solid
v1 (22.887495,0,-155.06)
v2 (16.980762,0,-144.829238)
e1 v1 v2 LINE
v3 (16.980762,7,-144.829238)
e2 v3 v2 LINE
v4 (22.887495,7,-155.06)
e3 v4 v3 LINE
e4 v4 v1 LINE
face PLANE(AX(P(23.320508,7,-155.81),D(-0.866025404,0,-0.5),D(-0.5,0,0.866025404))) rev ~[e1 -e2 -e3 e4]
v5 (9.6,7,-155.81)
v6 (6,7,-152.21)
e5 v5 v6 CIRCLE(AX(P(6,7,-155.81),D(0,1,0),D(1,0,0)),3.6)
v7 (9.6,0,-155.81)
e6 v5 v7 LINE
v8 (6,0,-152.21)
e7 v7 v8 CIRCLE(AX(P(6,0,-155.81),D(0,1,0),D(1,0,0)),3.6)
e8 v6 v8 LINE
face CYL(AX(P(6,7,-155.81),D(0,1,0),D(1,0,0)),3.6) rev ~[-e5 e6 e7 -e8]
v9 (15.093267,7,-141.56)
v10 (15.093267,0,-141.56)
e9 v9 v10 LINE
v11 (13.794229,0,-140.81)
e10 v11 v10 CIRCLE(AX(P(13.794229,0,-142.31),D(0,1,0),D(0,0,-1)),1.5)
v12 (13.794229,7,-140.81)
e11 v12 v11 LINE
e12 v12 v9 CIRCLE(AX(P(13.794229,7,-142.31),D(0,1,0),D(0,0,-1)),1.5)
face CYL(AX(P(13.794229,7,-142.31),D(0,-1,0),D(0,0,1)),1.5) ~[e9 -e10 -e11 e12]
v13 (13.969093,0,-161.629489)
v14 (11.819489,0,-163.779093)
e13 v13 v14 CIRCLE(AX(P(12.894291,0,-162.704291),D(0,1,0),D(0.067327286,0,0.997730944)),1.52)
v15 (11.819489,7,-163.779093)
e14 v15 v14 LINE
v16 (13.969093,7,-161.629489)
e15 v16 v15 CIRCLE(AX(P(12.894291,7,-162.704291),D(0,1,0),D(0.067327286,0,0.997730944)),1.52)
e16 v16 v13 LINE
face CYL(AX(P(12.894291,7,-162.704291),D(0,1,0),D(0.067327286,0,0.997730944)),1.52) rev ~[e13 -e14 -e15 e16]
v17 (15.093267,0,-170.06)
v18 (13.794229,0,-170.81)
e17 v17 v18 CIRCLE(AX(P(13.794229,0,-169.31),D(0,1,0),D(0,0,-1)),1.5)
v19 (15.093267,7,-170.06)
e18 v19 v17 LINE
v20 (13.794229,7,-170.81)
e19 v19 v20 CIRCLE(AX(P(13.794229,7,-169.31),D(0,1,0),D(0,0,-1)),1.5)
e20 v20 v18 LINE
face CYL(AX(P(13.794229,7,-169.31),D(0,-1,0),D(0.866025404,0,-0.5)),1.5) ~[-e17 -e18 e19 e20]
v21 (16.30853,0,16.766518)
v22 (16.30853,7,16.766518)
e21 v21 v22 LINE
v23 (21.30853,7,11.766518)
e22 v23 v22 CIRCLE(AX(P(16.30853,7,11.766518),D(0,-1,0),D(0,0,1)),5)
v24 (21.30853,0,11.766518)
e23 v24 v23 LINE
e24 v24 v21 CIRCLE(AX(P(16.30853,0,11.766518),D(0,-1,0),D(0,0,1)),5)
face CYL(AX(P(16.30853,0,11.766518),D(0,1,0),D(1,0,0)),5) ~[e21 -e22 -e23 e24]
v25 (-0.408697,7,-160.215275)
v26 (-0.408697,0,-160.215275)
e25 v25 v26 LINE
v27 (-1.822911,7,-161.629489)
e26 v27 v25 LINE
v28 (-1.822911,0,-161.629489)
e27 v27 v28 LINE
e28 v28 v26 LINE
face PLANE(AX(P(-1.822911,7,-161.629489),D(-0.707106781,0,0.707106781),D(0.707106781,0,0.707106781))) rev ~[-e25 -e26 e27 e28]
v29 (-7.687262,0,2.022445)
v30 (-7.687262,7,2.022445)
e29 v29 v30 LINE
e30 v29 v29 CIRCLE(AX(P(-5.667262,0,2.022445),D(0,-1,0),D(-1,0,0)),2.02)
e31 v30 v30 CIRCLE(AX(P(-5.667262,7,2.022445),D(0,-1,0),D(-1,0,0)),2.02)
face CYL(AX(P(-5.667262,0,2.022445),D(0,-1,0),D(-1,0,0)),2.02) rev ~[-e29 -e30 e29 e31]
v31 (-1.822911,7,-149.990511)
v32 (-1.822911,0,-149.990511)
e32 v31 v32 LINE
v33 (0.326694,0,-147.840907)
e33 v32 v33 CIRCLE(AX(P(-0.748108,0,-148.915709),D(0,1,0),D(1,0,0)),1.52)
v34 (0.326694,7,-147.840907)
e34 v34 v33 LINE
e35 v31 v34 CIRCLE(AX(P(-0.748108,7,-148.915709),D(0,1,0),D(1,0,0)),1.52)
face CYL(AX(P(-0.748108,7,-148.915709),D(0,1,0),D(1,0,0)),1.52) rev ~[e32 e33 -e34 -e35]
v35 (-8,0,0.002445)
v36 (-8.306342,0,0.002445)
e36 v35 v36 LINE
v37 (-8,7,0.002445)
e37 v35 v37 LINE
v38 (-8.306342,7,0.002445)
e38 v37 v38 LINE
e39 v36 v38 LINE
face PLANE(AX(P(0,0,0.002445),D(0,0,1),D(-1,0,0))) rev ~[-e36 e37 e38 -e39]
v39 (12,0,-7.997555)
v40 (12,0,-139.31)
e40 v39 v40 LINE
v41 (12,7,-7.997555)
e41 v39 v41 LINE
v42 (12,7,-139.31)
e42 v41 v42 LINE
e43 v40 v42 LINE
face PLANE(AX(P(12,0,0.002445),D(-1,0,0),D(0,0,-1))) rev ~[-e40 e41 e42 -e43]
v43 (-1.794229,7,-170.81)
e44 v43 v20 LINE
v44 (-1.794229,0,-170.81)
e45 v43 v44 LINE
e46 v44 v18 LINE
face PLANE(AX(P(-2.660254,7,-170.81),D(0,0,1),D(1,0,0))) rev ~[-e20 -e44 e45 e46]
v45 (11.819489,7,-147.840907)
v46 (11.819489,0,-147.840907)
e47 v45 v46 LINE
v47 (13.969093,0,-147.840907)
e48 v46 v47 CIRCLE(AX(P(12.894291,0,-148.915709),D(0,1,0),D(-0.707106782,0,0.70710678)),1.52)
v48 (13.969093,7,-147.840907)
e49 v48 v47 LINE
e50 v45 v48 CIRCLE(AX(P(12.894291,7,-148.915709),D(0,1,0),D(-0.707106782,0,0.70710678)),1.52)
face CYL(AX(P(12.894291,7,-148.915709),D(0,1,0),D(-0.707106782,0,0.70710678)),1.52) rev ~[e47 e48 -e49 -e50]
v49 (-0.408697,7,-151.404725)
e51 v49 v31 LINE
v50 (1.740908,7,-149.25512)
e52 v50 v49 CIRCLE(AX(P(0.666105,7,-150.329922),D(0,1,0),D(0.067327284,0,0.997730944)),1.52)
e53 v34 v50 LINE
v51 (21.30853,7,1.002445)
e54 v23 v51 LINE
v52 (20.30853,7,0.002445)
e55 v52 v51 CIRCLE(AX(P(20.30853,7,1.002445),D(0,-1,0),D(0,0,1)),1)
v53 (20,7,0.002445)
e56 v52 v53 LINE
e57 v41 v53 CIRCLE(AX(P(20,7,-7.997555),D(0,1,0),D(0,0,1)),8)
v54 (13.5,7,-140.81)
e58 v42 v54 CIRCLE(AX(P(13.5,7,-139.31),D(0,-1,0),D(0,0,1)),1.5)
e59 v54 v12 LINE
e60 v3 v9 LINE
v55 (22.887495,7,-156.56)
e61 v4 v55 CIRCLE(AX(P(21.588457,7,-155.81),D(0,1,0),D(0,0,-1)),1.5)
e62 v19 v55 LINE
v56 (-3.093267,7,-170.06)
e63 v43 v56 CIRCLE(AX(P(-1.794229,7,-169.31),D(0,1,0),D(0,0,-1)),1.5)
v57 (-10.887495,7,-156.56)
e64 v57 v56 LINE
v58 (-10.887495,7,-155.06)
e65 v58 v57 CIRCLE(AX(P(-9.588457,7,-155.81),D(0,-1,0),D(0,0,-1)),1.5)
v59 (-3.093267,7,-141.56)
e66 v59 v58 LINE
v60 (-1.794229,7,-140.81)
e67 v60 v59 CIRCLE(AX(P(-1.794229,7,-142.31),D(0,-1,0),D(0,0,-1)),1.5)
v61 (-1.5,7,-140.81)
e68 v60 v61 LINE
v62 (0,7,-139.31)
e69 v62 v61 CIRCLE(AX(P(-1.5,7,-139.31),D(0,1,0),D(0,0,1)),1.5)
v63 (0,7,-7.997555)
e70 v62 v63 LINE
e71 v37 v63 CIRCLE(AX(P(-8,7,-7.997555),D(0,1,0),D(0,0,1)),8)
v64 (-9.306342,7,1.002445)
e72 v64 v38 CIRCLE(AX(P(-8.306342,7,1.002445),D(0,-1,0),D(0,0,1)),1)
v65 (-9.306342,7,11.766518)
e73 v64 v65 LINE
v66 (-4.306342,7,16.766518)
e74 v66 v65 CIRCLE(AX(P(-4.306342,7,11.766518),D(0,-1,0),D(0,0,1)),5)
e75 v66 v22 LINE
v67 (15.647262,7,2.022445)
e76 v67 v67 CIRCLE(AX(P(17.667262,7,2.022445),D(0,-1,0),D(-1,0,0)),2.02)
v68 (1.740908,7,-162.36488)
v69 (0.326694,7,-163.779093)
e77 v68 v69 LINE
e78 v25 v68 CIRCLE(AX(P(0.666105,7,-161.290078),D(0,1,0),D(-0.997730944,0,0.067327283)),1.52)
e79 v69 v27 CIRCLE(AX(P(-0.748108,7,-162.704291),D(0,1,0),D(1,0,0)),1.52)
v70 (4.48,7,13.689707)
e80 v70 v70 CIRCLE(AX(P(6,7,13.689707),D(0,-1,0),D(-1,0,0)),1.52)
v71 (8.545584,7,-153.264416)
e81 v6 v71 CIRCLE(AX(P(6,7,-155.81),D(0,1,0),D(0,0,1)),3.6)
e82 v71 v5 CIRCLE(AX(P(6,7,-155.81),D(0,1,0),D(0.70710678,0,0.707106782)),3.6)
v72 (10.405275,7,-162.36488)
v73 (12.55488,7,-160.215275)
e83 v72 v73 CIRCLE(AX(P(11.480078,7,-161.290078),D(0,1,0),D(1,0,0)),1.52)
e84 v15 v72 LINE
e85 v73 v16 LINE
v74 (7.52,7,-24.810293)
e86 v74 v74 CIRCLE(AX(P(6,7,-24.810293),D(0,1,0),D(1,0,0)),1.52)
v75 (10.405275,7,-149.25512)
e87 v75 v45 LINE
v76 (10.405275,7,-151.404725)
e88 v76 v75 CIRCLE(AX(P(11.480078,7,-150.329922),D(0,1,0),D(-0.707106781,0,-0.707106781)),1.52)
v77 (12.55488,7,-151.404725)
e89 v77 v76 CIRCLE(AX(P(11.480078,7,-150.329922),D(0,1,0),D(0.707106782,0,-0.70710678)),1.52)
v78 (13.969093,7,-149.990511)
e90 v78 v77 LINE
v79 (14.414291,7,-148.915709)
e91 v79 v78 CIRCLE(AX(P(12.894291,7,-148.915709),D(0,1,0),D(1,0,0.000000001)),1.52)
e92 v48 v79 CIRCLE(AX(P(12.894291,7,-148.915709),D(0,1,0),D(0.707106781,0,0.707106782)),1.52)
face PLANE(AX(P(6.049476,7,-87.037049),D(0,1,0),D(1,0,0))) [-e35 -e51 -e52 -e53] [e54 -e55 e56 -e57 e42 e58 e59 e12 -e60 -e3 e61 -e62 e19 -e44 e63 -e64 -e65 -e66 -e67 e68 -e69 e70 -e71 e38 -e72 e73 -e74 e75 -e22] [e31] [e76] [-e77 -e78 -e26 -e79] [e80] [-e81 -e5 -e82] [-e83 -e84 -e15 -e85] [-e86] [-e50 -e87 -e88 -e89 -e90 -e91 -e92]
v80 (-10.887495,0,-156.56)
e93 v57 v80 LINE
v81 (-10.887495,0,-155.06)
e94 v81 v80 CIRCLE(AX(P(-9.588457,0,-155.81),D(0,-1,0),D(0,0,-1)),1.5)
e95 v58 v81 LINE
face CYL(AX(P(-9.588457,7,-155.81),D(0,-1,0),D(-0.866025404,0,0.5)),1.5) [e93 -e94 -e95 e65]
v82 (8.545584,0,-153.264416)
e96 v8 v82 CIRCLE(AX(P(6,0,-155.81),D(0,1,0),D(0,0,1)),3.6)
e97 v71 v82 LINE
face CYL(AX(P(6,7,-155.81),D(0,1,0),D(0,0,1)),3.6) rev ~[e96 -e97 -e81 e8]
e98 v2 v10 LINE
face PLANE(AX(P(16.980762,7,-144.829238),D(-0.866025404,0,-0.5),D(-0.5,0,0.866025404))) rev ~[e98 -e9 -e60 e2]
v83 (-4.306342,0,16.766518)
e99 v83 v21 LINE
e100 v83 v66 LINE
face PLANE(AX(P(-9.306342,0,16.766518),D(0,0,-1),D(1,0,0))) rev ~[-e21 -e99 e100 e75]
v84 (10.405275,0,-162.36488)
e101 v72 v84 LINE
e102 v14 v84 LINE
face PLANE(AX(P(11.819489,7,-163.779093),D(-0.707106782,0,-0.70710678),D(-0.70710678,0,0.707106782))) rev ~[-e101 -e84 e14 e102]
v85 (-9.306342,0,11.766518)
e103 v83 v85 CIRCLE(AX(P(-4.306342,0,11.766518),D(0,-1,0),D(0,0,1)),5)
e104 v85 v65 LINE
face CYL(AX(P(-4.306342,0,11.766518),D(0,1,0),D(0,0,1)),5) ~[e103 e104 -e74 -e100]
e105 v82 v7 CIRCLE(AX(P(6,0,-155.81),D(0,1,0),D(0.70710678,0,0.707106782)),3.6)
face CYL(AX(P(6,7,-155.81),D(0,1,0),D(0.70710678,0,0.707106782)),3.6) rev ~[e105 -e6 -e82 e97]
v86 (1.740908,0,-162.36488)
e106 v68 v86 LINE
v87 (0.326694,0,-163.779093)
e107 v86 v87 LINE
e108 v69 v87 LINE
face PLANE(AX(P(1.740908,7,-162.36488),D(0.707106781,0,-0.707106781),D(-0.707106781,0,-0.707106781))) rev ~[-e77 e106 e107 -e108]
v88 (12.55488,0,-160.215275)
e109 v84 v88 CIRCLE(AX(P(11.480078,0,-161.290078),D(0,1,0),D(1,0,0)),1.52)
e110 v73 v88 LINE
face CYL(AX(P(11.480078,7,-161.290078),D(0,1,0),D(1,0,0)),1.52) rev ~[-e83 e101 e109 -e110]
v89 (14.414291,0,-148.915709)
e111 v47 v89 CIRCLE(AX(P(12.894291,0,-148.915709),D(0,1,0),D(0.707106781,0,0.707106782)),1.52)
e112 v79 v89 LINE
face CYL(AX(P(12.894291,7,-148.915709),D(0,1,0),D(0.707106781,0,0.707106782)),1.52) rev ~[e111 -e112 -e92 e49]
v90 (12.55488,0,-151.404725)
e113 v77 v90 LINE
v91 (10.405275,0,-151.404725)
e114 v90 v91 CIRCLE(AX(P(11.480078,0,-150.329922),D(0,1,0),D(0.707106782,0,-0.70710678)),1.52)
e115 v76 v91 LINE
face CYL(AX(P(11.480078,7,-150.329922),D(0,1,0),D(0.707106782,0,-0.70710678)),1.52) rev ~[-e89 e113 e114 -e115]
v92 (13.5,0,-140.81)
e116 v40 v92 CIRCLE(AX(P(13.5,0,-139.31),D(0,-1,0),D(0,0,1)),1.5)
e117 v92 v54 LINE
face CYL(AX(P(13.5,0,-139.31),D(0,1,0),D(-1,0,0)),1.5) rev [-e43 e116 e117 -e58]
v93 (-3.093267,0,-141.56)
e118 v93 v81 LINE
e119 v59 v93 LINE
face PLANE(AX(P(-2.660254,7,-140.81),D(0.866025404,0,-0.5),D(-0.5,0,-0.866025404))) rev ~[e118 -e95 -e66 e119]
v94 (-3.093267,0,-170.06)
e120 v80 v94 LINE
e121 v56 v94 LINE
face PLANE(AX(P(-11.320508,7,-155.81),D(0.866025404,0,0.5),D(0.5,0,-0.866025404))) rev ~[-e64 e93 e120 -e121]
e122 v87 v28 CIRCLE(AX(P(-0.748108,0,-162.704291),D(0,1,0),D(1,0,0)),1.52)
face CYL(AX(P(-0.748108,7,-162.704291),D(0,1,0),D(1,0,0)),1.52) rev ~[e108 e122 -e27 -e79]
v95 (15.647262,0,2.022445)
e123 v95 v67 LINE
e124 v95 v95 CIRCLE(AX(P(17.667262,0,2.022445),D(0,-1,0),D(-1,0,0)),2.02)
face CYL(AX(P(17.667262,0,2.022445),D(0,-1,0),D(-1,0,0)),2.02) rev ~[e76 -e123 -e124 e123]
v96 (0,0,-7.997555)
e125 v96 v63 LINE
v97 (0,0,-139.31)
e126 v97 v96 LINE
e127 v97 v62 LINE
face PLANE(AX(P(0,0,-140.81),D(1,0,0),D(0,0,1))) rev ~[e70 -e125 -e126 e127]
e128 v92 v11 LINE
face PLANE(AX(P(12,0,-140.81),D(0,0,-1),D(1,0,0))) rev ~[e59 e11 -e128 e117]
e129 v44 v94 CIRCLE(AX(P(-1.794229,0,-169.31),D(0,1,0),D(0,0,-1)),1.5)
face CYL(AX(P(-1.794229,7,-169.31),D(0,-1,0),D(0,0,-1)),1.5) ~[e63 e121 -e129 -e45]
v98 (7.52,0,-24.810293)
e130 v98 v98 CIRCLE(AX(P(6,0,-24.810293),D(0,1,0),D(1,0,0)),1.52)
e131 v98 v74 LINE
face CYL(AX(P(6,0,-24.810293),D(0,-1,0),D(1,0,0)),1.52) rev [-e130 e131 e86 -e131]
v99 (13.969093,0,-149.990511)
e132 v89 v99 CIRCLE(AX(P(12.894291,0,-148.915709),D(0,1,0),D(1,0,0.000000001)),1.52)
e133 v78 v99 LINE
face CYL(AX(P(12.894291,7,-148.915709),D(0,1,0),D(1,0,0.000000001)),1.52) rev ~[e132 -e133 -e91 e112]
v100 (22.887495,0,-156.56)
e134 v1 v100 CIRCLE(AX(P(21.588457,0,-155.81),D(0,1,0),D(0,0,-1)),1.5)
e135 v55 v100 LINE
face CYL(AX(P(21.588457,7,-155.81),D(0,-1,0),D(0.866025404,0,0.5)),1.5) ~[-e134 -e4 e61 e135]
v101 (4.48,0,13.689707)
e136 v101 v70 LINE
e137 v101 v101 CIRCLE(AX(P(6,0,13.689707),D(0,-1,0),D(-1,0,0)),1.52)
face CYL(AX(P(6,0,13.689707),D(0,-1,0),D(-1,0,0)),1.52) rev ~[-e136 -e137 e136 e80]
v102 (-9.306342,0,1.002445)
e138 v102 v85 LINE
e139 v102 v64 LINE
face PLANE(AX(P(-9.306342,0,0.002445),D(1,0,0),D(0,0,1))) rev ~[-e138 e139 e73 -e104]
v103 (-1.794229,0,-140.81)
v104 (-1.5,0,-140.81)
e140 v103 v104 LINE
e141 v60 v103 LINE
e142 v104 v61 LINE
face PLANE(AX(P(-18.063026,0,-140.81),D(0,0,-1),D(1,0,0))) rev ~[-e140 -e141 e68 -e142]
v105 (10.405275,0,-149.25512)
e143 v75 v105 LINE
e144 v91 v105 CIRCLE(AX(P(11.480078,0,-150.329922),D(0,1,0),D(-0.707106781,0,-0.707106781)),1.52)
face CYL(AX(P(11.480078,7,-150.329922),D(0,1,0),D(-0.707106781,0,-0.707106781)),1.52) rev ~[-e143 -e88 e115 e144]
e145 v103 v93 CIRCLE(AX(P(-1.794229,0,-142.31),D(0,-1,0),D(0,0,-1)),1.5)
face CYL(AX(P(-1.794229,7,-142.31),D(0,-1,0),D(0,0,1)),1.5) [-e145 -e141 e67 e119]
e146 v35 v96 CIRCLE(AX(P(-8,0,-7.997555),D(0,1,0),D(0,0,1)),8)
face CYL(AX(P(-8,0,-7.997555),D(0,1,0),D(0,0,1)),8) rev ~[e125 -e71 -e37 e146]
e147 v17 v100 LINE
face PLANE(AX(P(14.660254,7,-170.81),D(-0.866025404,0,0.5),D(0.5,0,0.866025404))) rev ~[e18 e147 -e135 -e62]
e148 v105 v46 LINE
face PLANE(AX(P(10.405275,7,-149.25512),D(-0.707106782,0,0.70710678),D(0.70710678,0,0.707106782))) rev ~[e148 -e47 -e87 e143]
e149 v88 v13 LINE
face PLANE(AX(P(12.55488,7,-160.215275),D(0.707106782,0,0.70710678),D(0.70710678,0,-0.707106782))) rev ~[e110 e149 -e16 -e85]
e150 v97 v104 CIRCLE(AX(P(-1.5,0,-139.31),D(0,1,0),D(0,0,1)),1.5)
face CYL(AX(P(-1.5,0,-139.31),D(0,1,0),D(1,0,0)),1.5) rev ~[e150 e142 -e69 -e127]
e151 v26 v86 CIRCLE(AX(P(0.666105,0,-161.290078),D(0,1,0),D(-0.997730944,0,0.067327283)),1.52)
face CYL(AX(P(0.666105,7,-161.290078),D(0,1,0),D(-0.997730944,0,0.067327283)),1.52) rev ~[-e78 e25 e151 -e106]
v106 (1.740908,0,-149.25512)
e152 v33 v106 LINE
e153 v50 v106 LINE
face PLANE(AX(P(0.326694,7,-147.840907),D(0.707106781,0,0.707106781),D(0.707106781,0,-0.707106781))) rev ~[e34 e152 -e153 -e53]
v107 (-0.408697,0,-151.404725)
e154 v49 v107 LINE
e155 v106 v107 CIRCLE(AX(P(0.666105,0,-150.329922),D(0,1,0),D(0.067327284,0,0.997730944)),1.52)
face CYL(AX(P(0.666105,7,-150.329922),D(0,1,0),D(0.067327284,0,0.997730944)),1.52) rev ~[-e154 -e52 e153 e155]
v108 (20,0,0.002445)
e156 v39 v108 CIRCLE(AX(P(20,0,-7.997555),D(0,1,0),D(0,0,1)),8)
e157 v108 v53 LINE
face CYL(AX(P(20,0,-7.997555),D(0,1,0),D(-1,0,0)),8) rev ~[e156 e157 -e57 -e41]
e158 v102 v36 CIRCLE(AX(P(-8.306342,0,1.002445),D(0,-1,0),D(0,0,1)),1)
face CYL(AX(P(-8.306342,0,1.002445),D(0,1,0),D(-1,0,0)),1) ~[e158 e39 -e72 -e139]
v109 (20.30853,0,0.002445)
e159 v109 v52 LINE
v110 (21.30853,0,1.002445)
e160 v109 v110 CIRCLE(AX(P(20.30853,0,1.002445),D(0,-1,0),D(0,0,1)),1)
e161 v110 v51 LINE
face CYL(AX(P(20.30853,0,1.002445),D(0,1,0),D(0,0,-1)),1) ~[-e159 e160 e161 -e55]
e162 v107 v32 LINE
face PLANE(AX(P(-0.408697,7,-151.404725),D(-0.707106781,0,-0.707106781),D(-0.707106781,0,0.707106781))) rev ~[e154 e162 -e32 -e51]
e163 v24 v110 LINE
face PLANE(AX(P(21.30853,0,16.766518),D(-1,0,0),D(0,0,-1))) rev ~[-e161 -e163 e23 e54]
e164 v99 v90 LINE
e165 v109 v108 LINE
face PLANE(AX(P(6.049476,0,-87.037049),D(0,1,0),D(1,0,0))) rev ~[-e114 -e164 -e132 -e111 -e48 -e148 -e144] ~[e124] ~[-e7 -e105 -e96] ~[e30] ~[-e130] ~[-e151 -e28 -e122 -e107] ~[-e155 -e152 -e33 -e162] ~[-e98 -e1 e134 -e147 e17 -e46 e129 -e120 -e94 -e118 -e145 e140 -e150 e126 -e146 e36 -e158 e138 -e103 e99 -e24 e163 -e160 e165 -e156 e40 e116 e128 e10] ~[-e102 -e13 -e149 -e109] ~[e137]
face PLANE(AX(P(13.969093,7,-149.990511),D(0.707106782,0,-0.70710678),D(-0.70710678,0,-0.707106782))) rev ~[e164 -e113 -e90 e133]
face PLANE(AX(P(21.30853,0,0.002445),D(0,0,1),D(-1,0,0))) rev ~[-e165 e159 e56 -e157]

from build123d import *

# Parameters (mm, degrees)
SKETCH_1_R          = 1.52
EXTRUDE_1_DEPTH     = 7
SKETCH_2_R          = 1.52
SKETCH_2_R_2        = 1.520000001
CUT_EXTRUDE_2_DEPTH = 10
FILLET_1_R          = 8
FILLET_3_R          = 1
FILLET_4_R          = 5
FILLET_5_R          = 1.5
SKETCH_3_R          = 2.02
SKETCH_3_R_2        = 1.52
CUT_EXTRUDE_3_DEPTH = 10


with BuildPart() as part:
    # 草图1 → 凸台-拉伸1 (new body)
    with BuildSketch(Plane(origin=(0, 0, 0), x_dir=(1, 0, 0), z_dir=(0, 1, 0))):
        Polygon((12, -0.002444932), (12, 140.81), (30.355391701, 140.81), (30.355391701, 181.996219272), (-18.063025957, 181.996219272), (-18.063025957, 140.81), (0, 140.81), (0, -0.002444932), (-9.306341863, -0.002444932), (-9.306341863, -16.766517892), (21.308530359, -16.766517892), (21.308530359, -0.002444932), align=None)
        with Locations((6, 24.810293178)):
            Circle(SKETCH_1_R, mode=Mode.SUBTRACT)
    extrude(amount=EXTRUDE_1_DEPTH)

    # 草图2 → 切除-拉伸2 (cut)
    with BuildSketch(Plane(origin=(0, 7, 0), x_dir=(1, 0, 0), z_dir=(0, 1, 0))):
        with BuildLine():
            ThreePointArc((9.6, 155.810000018), (3.454415588, 158.35558443), (6, 152.210000018))
            Line((6, 152.210000018), (6, 155.810000018))
            Line((6, 155.810000018), (9.6, 155.810000018))
        make_face()
        with BuildLine():
            Line((6, 155.810000018), (6, 152.210000018))
            ThreePointArc((6, 152.210000018), (7.377660354, 152.4840337), (8.545584409, 153.264415603))
            Line((8.545584409, 153.264415603), (6, 155.810000018))
        make_face()
        with BuildLine():
            Line((9.6, 155.810000018), (6, 155.810000018))
            Line((6, 155.810000018), (8.545584409, 153.264415603))
            ThreePointArc((8.545584409, 153.264415603), (9.325966316, 154.43233966), (9.6, 155.810000018))
        make_face()
        with Locations((-0.748108245, 148.915708883)):
            Circle(SKETCH_2_R)
        with Locations((0.666105318, 150.329922446)):
            Circle(SKETCH_2_R)
        with BuildLine():
            Line((-0.40869699, 151.404724753), (-1.822910552, 149.990511191))
            ThreePointArc((-1.822910552, 149.990511191), (-1.376757591, 150.299616395), (-0.850445717, 150.432259918))
            ThreePointArc((-0.850445717, 150.432259918), (-0.717802194, 150.958571792), (-0.40869699, 151.404724753))
        make_face()
        with BuildLine():
            ThreePointArc((0.76844279, 148.813371411), (0.635799267, 148.287059538), (0.326694063, 147.840906576))
            Line((0.326694063, 147.840906576), (1.740907625, 149.255120138))
            ThreePointArc((1.740907625, 149.255120138), (1.294754663, 148.946014934), (0.76844279, 148.813371411))
        make_face()
        with BuildLine():
            Line((10.405275239, 149.255120151), (11.819488799, 147.840906587))
            ThreePointArc((11.819488799, 147.840906586), (11.510383595, 148.287059549), (11.377740072, 148.813371422))
            ThreePointArc((11.377740072, 148.813371422), (10.851428199, 148.946014947), (10.405275239, 149.255120151))
        make_face()
        with BuildLine():
            Line((11.480077548, 150.329922457), (10.405275241, 151.404724766))
            ThreePointArc((10.405275241, 151.404724766), (9.960077548, 150.329922459), (10.405275239, 149.255120151))
            ThreePointArc((10.405275239, 149.255120151), (10.851428199, 148.946014947), (11.377740072, 148.813371422))
            ThreePointArc((11.377740072, 148.813371422), (11.471198506, 149.449757066), (11.819488801, 149.990511203))
            Line((11.819488801, 149.990511203), (11.480077548, 150.329922457))
        make_face()
        with BuildLine():
            Line((12.554879856, 151.404724763), (11.480077548, 150.329922457))
            Line((11.480077548, 150.329922457), (11.819488801, 149.990511203))
            ThreePointArc((11.819488801, 149.990511203), (12.360242939, 150.338801496), (12.996628583, 150.432259929))
            ThreePointArc((12.996628583, 150.432259929), (12.863985059, 150.958571802), (12.554879856, 151.404724763))
        make_face()
        with BuildLine():
            Line((11.819488801, 149.990511203), (12.554879854, 149.255120148))
            ThreePointArc((12.554879854, 149.255120148), (12.884374437, 149.748243639), (13.000077548, 150.329922457))
            ThreePointArc((13.000077548, 150.329922457), (12.999215062, 150.381120244), (12.996628583, 150.432259929))
            ThreePointArc((12.996628583, 150.432259929), (12.360242939, 150.338801496), (11.819488801, 149.990511203))
        make_face()
        with BuildLine():
            ThreePointArc((11.377740072, 148.813371422), (12.014125716, 148.906829855), (12.554879854, 149.255120148))
            Line((12.554879854, 149.255120148), (11.819488801, 149.990511203))
            ThreePointArc((11.819488801, 149.990511203), (11.471198506, 149.449757066), (11.377740072, 148.813371422))
        make_face()
        with BuildLine():
            ThreePointArc((12.554879856, 151.404724763), (11.480077549, 151.849922457), (10.405275241, 151.404724766))
            Line((10.405275241, 151.404724766), (11.480077548, 150.329922457))
            Line((11.480077548, 150.329922457), (12.554879856, 151.404724763))
        make_face()
        with BuildLine():
            Line((13.969093417, 149.990511199), (12.554879856, 151.404724763))
            ThreePointArc((12.554879856, 151.404724763), (12.863985059, 150.958571802), (12.996628583, 150.432259929))
            ThreePointArc((12.996628583, 150.432259929), (13.522940456, 150.299616405), (13.969093418, 149.9905112))
        make_face()
        with BuildLine():
            Line((12.554879854, 149.255120148), (12.894291108, 148.915708893))
            Line((12.894291108, 148.915708893), (13.969093417, 149.990511199))
            ThreePointArc((13.969093418, 149.9905112), (13.522940456, 150.299616405), (12.996628583, 150.432259929))
            ThreePointArc((12.996628583, 150.432259929), (12.999215062, 150.381120244), (13.000077548, 150.329922457))
            ThreePointArc((13.000077548, 150.329922457), (12.884374437, 149.748243639), (12.554879854, 149.255120148))
        make_face()
        with BuildLine():
            Line((12.894291108, 148.915708893), (13.969093415, 147.840906584))
            ThreePointArc((13.969093415, 147.840906584), (14.298587998, 148.334030075), (14.414291109, 148.915708893))
            ThreePointArc((14.414291109, 148.915708893), (14.298587999, 149.49738771), (13.969093418, 149.9905112))
            Line((13.969093417, 149.990511199), (12.894291108, 148.915708893))
        make_face()
        with Locations((11.480077548, 161.290077579)):
            Circle(SKETCH_2_R)
        with Locations((12.894291108, 162.704291143)):
            Circle(SKETCH_2_R_2)
        with BuildLine():
            ThreePointArc((11.377740072, 162.806628614), (11.510383595, 163.332940488), (11.819488799, 163.77909345))
            Line((11.819488799, 163.779093449), (10.405275239, 162.364879885))
            ThreePointArc((10.405275239, 162.364879885), (10.851428199, 162.673985089), (11.377740072, 162.806628614))
        make_face()
        with BuildLine():
            ThreePointArc((12.996628583, 161.187740107), (12.863985059, 160.661428234), (12.554879856, 160.215275273))
            Line((12.554879856, 160.215275273), (13.969093417, 161.629488837))
            ThreePointArc((13.969093418, 161.629488836), (13.522940456, 161.320383631), (12.996628583, 161.187740107))
        make_face()
        with Locations((0.666105329, 161.290077566)):
            Circle(SKETCH_2_R)
        with Locations((-0.74810823, 162.704291131)):
            Circle(SKETCH_2_R)
        with BuildLine():
            Line((1.740907642, 162.364879874), (0.326694079, 163.779093436))
            ThreePointArc((0.326694079, 163.779093436), (0.635799282, 163.332940474), (0.768442805, 162.8066286))
            ThreePointArc((0.768442805, 162.8066286), (1.294754678, 162.673985076), (1.740907639, 162.364879871))
        make_face()
        with BuildLine():
            ThreePointArc((-0.850445706, 161.187740096), (-1.376757579, 161.320383621), (-1.82291054, 161.629488826))
            Line((-1.82291054, 161.629488826), (-0.408696978, 160.215275263))
            ThreePointArc((-0.408696981, 160.21527526), (-0.717802184, 160.661428223), (-0.850445706, 161.187740096))
        make_face()
        Polygon((-18.063025957, 181.996219272), (-18.063025957, 140.81), (-2.660254048, 140.81), (-11.320508097, 155.810000018), (-2.660254048, 170.810000036), (14.660254048, 170.810000036), (23.320508097, 155.810000018), (16.980762117, 144.829237874), (14.660254048, 140.81), (30.355391701, 140.81), (30.355391701, 181.996219272), align=None)
        with BuildLine():
            ThreePointArc((11.819488799, 147.840906586), (12.894291106, 147.395708892), (13.969093415, 147.840906584))
            Line((13.969093415, 147.840906584), (12.894291108, 148.915708893))
            Line((12.894291108, 148.915708893), (12.554879854, 149.255120148))
            ThreePointArc((12.554879854, 149.255120148), (12.014125716, 148.906829855), (11.377740072, 148.813371422))
            ThreePointArc((11.377740072, 148.813371422), (11.510383595, 148.287059549), (11.819488799, 147.840906586))
        make_face()
    extrude(amount=-CUT_EXTRUDE_2_DEPTH, mode=Mode.SUBTRACT)

    # 圆角1
    fillet_1_edges = [part.edges().sort_by_distance(p)[0] for p in [
        (0, 3.5, 0.002444932),
        (12, 3.5, 0.002444932),
    ]]
    fillet(fillet_1_edges, radius=FILLET_1_R)

    # 圆角3
    fillet_3_edges = [part.edges().sort_by_distance(p)[0] for p in [
        (-9.306341863, 3.5, 0.002444932),
        (21.308530359, 3.5, 0.002444932),
    ]]
    fillet(fillet_3_edges, radius=FILLET_3_R)

    # 圆角4
    fillet_4_edges = [part.edges().sort_by_distance(p)[0] for p in [
        (21.308530359, 3.5, 16.766517892),
        (-9.306341863, 3.5, 16.766517892),
    ]]
    fillet(fillet_4_edges, radius=FILLET_4_R)

    # 圆角5
    fillet_5_edges = [part.edges().sort_by_distance(p)[0] for p in [
        (0, 3.5, -140.81),
        (12, 3.5, -140.81),
        (-11.320508097, 3.5, -155.810000018),
        (-2.660254048, 3.5, -140.81),
        (14.660254048, 3.5, -140.81),
        (23.320508097, 3.5, -155.810000018),
        (14.660254048, 3.5, -170.810000036),
        (-2.660254048, 3.5, -170.810000036),
    ]]
    fillet(fillet_5_edges, radius=FILLET_5_R)

    # 草图3 → 切除-拉伸3 (cut)
    with BuildSketch(Plane(origin=(0, 0, 0), x_dir=(-1, 0, 0), z_dir=(0, -1, 0))):
        with Locations((-17.66726189, -2.022444932)):
            Circle(SKETCH_3_R)
        with Locations((5.66726189, -2.022444932)):
            Circle(SKETCH_3_R)
        with Locations((-6, -13.689706822)):
            Circle(SKETCH_3_R_2)
    extrude(amount=-CUT_EXTRUDE_3_DEPTH, mode=Mode.SUBTRACT)


solid = part.part
